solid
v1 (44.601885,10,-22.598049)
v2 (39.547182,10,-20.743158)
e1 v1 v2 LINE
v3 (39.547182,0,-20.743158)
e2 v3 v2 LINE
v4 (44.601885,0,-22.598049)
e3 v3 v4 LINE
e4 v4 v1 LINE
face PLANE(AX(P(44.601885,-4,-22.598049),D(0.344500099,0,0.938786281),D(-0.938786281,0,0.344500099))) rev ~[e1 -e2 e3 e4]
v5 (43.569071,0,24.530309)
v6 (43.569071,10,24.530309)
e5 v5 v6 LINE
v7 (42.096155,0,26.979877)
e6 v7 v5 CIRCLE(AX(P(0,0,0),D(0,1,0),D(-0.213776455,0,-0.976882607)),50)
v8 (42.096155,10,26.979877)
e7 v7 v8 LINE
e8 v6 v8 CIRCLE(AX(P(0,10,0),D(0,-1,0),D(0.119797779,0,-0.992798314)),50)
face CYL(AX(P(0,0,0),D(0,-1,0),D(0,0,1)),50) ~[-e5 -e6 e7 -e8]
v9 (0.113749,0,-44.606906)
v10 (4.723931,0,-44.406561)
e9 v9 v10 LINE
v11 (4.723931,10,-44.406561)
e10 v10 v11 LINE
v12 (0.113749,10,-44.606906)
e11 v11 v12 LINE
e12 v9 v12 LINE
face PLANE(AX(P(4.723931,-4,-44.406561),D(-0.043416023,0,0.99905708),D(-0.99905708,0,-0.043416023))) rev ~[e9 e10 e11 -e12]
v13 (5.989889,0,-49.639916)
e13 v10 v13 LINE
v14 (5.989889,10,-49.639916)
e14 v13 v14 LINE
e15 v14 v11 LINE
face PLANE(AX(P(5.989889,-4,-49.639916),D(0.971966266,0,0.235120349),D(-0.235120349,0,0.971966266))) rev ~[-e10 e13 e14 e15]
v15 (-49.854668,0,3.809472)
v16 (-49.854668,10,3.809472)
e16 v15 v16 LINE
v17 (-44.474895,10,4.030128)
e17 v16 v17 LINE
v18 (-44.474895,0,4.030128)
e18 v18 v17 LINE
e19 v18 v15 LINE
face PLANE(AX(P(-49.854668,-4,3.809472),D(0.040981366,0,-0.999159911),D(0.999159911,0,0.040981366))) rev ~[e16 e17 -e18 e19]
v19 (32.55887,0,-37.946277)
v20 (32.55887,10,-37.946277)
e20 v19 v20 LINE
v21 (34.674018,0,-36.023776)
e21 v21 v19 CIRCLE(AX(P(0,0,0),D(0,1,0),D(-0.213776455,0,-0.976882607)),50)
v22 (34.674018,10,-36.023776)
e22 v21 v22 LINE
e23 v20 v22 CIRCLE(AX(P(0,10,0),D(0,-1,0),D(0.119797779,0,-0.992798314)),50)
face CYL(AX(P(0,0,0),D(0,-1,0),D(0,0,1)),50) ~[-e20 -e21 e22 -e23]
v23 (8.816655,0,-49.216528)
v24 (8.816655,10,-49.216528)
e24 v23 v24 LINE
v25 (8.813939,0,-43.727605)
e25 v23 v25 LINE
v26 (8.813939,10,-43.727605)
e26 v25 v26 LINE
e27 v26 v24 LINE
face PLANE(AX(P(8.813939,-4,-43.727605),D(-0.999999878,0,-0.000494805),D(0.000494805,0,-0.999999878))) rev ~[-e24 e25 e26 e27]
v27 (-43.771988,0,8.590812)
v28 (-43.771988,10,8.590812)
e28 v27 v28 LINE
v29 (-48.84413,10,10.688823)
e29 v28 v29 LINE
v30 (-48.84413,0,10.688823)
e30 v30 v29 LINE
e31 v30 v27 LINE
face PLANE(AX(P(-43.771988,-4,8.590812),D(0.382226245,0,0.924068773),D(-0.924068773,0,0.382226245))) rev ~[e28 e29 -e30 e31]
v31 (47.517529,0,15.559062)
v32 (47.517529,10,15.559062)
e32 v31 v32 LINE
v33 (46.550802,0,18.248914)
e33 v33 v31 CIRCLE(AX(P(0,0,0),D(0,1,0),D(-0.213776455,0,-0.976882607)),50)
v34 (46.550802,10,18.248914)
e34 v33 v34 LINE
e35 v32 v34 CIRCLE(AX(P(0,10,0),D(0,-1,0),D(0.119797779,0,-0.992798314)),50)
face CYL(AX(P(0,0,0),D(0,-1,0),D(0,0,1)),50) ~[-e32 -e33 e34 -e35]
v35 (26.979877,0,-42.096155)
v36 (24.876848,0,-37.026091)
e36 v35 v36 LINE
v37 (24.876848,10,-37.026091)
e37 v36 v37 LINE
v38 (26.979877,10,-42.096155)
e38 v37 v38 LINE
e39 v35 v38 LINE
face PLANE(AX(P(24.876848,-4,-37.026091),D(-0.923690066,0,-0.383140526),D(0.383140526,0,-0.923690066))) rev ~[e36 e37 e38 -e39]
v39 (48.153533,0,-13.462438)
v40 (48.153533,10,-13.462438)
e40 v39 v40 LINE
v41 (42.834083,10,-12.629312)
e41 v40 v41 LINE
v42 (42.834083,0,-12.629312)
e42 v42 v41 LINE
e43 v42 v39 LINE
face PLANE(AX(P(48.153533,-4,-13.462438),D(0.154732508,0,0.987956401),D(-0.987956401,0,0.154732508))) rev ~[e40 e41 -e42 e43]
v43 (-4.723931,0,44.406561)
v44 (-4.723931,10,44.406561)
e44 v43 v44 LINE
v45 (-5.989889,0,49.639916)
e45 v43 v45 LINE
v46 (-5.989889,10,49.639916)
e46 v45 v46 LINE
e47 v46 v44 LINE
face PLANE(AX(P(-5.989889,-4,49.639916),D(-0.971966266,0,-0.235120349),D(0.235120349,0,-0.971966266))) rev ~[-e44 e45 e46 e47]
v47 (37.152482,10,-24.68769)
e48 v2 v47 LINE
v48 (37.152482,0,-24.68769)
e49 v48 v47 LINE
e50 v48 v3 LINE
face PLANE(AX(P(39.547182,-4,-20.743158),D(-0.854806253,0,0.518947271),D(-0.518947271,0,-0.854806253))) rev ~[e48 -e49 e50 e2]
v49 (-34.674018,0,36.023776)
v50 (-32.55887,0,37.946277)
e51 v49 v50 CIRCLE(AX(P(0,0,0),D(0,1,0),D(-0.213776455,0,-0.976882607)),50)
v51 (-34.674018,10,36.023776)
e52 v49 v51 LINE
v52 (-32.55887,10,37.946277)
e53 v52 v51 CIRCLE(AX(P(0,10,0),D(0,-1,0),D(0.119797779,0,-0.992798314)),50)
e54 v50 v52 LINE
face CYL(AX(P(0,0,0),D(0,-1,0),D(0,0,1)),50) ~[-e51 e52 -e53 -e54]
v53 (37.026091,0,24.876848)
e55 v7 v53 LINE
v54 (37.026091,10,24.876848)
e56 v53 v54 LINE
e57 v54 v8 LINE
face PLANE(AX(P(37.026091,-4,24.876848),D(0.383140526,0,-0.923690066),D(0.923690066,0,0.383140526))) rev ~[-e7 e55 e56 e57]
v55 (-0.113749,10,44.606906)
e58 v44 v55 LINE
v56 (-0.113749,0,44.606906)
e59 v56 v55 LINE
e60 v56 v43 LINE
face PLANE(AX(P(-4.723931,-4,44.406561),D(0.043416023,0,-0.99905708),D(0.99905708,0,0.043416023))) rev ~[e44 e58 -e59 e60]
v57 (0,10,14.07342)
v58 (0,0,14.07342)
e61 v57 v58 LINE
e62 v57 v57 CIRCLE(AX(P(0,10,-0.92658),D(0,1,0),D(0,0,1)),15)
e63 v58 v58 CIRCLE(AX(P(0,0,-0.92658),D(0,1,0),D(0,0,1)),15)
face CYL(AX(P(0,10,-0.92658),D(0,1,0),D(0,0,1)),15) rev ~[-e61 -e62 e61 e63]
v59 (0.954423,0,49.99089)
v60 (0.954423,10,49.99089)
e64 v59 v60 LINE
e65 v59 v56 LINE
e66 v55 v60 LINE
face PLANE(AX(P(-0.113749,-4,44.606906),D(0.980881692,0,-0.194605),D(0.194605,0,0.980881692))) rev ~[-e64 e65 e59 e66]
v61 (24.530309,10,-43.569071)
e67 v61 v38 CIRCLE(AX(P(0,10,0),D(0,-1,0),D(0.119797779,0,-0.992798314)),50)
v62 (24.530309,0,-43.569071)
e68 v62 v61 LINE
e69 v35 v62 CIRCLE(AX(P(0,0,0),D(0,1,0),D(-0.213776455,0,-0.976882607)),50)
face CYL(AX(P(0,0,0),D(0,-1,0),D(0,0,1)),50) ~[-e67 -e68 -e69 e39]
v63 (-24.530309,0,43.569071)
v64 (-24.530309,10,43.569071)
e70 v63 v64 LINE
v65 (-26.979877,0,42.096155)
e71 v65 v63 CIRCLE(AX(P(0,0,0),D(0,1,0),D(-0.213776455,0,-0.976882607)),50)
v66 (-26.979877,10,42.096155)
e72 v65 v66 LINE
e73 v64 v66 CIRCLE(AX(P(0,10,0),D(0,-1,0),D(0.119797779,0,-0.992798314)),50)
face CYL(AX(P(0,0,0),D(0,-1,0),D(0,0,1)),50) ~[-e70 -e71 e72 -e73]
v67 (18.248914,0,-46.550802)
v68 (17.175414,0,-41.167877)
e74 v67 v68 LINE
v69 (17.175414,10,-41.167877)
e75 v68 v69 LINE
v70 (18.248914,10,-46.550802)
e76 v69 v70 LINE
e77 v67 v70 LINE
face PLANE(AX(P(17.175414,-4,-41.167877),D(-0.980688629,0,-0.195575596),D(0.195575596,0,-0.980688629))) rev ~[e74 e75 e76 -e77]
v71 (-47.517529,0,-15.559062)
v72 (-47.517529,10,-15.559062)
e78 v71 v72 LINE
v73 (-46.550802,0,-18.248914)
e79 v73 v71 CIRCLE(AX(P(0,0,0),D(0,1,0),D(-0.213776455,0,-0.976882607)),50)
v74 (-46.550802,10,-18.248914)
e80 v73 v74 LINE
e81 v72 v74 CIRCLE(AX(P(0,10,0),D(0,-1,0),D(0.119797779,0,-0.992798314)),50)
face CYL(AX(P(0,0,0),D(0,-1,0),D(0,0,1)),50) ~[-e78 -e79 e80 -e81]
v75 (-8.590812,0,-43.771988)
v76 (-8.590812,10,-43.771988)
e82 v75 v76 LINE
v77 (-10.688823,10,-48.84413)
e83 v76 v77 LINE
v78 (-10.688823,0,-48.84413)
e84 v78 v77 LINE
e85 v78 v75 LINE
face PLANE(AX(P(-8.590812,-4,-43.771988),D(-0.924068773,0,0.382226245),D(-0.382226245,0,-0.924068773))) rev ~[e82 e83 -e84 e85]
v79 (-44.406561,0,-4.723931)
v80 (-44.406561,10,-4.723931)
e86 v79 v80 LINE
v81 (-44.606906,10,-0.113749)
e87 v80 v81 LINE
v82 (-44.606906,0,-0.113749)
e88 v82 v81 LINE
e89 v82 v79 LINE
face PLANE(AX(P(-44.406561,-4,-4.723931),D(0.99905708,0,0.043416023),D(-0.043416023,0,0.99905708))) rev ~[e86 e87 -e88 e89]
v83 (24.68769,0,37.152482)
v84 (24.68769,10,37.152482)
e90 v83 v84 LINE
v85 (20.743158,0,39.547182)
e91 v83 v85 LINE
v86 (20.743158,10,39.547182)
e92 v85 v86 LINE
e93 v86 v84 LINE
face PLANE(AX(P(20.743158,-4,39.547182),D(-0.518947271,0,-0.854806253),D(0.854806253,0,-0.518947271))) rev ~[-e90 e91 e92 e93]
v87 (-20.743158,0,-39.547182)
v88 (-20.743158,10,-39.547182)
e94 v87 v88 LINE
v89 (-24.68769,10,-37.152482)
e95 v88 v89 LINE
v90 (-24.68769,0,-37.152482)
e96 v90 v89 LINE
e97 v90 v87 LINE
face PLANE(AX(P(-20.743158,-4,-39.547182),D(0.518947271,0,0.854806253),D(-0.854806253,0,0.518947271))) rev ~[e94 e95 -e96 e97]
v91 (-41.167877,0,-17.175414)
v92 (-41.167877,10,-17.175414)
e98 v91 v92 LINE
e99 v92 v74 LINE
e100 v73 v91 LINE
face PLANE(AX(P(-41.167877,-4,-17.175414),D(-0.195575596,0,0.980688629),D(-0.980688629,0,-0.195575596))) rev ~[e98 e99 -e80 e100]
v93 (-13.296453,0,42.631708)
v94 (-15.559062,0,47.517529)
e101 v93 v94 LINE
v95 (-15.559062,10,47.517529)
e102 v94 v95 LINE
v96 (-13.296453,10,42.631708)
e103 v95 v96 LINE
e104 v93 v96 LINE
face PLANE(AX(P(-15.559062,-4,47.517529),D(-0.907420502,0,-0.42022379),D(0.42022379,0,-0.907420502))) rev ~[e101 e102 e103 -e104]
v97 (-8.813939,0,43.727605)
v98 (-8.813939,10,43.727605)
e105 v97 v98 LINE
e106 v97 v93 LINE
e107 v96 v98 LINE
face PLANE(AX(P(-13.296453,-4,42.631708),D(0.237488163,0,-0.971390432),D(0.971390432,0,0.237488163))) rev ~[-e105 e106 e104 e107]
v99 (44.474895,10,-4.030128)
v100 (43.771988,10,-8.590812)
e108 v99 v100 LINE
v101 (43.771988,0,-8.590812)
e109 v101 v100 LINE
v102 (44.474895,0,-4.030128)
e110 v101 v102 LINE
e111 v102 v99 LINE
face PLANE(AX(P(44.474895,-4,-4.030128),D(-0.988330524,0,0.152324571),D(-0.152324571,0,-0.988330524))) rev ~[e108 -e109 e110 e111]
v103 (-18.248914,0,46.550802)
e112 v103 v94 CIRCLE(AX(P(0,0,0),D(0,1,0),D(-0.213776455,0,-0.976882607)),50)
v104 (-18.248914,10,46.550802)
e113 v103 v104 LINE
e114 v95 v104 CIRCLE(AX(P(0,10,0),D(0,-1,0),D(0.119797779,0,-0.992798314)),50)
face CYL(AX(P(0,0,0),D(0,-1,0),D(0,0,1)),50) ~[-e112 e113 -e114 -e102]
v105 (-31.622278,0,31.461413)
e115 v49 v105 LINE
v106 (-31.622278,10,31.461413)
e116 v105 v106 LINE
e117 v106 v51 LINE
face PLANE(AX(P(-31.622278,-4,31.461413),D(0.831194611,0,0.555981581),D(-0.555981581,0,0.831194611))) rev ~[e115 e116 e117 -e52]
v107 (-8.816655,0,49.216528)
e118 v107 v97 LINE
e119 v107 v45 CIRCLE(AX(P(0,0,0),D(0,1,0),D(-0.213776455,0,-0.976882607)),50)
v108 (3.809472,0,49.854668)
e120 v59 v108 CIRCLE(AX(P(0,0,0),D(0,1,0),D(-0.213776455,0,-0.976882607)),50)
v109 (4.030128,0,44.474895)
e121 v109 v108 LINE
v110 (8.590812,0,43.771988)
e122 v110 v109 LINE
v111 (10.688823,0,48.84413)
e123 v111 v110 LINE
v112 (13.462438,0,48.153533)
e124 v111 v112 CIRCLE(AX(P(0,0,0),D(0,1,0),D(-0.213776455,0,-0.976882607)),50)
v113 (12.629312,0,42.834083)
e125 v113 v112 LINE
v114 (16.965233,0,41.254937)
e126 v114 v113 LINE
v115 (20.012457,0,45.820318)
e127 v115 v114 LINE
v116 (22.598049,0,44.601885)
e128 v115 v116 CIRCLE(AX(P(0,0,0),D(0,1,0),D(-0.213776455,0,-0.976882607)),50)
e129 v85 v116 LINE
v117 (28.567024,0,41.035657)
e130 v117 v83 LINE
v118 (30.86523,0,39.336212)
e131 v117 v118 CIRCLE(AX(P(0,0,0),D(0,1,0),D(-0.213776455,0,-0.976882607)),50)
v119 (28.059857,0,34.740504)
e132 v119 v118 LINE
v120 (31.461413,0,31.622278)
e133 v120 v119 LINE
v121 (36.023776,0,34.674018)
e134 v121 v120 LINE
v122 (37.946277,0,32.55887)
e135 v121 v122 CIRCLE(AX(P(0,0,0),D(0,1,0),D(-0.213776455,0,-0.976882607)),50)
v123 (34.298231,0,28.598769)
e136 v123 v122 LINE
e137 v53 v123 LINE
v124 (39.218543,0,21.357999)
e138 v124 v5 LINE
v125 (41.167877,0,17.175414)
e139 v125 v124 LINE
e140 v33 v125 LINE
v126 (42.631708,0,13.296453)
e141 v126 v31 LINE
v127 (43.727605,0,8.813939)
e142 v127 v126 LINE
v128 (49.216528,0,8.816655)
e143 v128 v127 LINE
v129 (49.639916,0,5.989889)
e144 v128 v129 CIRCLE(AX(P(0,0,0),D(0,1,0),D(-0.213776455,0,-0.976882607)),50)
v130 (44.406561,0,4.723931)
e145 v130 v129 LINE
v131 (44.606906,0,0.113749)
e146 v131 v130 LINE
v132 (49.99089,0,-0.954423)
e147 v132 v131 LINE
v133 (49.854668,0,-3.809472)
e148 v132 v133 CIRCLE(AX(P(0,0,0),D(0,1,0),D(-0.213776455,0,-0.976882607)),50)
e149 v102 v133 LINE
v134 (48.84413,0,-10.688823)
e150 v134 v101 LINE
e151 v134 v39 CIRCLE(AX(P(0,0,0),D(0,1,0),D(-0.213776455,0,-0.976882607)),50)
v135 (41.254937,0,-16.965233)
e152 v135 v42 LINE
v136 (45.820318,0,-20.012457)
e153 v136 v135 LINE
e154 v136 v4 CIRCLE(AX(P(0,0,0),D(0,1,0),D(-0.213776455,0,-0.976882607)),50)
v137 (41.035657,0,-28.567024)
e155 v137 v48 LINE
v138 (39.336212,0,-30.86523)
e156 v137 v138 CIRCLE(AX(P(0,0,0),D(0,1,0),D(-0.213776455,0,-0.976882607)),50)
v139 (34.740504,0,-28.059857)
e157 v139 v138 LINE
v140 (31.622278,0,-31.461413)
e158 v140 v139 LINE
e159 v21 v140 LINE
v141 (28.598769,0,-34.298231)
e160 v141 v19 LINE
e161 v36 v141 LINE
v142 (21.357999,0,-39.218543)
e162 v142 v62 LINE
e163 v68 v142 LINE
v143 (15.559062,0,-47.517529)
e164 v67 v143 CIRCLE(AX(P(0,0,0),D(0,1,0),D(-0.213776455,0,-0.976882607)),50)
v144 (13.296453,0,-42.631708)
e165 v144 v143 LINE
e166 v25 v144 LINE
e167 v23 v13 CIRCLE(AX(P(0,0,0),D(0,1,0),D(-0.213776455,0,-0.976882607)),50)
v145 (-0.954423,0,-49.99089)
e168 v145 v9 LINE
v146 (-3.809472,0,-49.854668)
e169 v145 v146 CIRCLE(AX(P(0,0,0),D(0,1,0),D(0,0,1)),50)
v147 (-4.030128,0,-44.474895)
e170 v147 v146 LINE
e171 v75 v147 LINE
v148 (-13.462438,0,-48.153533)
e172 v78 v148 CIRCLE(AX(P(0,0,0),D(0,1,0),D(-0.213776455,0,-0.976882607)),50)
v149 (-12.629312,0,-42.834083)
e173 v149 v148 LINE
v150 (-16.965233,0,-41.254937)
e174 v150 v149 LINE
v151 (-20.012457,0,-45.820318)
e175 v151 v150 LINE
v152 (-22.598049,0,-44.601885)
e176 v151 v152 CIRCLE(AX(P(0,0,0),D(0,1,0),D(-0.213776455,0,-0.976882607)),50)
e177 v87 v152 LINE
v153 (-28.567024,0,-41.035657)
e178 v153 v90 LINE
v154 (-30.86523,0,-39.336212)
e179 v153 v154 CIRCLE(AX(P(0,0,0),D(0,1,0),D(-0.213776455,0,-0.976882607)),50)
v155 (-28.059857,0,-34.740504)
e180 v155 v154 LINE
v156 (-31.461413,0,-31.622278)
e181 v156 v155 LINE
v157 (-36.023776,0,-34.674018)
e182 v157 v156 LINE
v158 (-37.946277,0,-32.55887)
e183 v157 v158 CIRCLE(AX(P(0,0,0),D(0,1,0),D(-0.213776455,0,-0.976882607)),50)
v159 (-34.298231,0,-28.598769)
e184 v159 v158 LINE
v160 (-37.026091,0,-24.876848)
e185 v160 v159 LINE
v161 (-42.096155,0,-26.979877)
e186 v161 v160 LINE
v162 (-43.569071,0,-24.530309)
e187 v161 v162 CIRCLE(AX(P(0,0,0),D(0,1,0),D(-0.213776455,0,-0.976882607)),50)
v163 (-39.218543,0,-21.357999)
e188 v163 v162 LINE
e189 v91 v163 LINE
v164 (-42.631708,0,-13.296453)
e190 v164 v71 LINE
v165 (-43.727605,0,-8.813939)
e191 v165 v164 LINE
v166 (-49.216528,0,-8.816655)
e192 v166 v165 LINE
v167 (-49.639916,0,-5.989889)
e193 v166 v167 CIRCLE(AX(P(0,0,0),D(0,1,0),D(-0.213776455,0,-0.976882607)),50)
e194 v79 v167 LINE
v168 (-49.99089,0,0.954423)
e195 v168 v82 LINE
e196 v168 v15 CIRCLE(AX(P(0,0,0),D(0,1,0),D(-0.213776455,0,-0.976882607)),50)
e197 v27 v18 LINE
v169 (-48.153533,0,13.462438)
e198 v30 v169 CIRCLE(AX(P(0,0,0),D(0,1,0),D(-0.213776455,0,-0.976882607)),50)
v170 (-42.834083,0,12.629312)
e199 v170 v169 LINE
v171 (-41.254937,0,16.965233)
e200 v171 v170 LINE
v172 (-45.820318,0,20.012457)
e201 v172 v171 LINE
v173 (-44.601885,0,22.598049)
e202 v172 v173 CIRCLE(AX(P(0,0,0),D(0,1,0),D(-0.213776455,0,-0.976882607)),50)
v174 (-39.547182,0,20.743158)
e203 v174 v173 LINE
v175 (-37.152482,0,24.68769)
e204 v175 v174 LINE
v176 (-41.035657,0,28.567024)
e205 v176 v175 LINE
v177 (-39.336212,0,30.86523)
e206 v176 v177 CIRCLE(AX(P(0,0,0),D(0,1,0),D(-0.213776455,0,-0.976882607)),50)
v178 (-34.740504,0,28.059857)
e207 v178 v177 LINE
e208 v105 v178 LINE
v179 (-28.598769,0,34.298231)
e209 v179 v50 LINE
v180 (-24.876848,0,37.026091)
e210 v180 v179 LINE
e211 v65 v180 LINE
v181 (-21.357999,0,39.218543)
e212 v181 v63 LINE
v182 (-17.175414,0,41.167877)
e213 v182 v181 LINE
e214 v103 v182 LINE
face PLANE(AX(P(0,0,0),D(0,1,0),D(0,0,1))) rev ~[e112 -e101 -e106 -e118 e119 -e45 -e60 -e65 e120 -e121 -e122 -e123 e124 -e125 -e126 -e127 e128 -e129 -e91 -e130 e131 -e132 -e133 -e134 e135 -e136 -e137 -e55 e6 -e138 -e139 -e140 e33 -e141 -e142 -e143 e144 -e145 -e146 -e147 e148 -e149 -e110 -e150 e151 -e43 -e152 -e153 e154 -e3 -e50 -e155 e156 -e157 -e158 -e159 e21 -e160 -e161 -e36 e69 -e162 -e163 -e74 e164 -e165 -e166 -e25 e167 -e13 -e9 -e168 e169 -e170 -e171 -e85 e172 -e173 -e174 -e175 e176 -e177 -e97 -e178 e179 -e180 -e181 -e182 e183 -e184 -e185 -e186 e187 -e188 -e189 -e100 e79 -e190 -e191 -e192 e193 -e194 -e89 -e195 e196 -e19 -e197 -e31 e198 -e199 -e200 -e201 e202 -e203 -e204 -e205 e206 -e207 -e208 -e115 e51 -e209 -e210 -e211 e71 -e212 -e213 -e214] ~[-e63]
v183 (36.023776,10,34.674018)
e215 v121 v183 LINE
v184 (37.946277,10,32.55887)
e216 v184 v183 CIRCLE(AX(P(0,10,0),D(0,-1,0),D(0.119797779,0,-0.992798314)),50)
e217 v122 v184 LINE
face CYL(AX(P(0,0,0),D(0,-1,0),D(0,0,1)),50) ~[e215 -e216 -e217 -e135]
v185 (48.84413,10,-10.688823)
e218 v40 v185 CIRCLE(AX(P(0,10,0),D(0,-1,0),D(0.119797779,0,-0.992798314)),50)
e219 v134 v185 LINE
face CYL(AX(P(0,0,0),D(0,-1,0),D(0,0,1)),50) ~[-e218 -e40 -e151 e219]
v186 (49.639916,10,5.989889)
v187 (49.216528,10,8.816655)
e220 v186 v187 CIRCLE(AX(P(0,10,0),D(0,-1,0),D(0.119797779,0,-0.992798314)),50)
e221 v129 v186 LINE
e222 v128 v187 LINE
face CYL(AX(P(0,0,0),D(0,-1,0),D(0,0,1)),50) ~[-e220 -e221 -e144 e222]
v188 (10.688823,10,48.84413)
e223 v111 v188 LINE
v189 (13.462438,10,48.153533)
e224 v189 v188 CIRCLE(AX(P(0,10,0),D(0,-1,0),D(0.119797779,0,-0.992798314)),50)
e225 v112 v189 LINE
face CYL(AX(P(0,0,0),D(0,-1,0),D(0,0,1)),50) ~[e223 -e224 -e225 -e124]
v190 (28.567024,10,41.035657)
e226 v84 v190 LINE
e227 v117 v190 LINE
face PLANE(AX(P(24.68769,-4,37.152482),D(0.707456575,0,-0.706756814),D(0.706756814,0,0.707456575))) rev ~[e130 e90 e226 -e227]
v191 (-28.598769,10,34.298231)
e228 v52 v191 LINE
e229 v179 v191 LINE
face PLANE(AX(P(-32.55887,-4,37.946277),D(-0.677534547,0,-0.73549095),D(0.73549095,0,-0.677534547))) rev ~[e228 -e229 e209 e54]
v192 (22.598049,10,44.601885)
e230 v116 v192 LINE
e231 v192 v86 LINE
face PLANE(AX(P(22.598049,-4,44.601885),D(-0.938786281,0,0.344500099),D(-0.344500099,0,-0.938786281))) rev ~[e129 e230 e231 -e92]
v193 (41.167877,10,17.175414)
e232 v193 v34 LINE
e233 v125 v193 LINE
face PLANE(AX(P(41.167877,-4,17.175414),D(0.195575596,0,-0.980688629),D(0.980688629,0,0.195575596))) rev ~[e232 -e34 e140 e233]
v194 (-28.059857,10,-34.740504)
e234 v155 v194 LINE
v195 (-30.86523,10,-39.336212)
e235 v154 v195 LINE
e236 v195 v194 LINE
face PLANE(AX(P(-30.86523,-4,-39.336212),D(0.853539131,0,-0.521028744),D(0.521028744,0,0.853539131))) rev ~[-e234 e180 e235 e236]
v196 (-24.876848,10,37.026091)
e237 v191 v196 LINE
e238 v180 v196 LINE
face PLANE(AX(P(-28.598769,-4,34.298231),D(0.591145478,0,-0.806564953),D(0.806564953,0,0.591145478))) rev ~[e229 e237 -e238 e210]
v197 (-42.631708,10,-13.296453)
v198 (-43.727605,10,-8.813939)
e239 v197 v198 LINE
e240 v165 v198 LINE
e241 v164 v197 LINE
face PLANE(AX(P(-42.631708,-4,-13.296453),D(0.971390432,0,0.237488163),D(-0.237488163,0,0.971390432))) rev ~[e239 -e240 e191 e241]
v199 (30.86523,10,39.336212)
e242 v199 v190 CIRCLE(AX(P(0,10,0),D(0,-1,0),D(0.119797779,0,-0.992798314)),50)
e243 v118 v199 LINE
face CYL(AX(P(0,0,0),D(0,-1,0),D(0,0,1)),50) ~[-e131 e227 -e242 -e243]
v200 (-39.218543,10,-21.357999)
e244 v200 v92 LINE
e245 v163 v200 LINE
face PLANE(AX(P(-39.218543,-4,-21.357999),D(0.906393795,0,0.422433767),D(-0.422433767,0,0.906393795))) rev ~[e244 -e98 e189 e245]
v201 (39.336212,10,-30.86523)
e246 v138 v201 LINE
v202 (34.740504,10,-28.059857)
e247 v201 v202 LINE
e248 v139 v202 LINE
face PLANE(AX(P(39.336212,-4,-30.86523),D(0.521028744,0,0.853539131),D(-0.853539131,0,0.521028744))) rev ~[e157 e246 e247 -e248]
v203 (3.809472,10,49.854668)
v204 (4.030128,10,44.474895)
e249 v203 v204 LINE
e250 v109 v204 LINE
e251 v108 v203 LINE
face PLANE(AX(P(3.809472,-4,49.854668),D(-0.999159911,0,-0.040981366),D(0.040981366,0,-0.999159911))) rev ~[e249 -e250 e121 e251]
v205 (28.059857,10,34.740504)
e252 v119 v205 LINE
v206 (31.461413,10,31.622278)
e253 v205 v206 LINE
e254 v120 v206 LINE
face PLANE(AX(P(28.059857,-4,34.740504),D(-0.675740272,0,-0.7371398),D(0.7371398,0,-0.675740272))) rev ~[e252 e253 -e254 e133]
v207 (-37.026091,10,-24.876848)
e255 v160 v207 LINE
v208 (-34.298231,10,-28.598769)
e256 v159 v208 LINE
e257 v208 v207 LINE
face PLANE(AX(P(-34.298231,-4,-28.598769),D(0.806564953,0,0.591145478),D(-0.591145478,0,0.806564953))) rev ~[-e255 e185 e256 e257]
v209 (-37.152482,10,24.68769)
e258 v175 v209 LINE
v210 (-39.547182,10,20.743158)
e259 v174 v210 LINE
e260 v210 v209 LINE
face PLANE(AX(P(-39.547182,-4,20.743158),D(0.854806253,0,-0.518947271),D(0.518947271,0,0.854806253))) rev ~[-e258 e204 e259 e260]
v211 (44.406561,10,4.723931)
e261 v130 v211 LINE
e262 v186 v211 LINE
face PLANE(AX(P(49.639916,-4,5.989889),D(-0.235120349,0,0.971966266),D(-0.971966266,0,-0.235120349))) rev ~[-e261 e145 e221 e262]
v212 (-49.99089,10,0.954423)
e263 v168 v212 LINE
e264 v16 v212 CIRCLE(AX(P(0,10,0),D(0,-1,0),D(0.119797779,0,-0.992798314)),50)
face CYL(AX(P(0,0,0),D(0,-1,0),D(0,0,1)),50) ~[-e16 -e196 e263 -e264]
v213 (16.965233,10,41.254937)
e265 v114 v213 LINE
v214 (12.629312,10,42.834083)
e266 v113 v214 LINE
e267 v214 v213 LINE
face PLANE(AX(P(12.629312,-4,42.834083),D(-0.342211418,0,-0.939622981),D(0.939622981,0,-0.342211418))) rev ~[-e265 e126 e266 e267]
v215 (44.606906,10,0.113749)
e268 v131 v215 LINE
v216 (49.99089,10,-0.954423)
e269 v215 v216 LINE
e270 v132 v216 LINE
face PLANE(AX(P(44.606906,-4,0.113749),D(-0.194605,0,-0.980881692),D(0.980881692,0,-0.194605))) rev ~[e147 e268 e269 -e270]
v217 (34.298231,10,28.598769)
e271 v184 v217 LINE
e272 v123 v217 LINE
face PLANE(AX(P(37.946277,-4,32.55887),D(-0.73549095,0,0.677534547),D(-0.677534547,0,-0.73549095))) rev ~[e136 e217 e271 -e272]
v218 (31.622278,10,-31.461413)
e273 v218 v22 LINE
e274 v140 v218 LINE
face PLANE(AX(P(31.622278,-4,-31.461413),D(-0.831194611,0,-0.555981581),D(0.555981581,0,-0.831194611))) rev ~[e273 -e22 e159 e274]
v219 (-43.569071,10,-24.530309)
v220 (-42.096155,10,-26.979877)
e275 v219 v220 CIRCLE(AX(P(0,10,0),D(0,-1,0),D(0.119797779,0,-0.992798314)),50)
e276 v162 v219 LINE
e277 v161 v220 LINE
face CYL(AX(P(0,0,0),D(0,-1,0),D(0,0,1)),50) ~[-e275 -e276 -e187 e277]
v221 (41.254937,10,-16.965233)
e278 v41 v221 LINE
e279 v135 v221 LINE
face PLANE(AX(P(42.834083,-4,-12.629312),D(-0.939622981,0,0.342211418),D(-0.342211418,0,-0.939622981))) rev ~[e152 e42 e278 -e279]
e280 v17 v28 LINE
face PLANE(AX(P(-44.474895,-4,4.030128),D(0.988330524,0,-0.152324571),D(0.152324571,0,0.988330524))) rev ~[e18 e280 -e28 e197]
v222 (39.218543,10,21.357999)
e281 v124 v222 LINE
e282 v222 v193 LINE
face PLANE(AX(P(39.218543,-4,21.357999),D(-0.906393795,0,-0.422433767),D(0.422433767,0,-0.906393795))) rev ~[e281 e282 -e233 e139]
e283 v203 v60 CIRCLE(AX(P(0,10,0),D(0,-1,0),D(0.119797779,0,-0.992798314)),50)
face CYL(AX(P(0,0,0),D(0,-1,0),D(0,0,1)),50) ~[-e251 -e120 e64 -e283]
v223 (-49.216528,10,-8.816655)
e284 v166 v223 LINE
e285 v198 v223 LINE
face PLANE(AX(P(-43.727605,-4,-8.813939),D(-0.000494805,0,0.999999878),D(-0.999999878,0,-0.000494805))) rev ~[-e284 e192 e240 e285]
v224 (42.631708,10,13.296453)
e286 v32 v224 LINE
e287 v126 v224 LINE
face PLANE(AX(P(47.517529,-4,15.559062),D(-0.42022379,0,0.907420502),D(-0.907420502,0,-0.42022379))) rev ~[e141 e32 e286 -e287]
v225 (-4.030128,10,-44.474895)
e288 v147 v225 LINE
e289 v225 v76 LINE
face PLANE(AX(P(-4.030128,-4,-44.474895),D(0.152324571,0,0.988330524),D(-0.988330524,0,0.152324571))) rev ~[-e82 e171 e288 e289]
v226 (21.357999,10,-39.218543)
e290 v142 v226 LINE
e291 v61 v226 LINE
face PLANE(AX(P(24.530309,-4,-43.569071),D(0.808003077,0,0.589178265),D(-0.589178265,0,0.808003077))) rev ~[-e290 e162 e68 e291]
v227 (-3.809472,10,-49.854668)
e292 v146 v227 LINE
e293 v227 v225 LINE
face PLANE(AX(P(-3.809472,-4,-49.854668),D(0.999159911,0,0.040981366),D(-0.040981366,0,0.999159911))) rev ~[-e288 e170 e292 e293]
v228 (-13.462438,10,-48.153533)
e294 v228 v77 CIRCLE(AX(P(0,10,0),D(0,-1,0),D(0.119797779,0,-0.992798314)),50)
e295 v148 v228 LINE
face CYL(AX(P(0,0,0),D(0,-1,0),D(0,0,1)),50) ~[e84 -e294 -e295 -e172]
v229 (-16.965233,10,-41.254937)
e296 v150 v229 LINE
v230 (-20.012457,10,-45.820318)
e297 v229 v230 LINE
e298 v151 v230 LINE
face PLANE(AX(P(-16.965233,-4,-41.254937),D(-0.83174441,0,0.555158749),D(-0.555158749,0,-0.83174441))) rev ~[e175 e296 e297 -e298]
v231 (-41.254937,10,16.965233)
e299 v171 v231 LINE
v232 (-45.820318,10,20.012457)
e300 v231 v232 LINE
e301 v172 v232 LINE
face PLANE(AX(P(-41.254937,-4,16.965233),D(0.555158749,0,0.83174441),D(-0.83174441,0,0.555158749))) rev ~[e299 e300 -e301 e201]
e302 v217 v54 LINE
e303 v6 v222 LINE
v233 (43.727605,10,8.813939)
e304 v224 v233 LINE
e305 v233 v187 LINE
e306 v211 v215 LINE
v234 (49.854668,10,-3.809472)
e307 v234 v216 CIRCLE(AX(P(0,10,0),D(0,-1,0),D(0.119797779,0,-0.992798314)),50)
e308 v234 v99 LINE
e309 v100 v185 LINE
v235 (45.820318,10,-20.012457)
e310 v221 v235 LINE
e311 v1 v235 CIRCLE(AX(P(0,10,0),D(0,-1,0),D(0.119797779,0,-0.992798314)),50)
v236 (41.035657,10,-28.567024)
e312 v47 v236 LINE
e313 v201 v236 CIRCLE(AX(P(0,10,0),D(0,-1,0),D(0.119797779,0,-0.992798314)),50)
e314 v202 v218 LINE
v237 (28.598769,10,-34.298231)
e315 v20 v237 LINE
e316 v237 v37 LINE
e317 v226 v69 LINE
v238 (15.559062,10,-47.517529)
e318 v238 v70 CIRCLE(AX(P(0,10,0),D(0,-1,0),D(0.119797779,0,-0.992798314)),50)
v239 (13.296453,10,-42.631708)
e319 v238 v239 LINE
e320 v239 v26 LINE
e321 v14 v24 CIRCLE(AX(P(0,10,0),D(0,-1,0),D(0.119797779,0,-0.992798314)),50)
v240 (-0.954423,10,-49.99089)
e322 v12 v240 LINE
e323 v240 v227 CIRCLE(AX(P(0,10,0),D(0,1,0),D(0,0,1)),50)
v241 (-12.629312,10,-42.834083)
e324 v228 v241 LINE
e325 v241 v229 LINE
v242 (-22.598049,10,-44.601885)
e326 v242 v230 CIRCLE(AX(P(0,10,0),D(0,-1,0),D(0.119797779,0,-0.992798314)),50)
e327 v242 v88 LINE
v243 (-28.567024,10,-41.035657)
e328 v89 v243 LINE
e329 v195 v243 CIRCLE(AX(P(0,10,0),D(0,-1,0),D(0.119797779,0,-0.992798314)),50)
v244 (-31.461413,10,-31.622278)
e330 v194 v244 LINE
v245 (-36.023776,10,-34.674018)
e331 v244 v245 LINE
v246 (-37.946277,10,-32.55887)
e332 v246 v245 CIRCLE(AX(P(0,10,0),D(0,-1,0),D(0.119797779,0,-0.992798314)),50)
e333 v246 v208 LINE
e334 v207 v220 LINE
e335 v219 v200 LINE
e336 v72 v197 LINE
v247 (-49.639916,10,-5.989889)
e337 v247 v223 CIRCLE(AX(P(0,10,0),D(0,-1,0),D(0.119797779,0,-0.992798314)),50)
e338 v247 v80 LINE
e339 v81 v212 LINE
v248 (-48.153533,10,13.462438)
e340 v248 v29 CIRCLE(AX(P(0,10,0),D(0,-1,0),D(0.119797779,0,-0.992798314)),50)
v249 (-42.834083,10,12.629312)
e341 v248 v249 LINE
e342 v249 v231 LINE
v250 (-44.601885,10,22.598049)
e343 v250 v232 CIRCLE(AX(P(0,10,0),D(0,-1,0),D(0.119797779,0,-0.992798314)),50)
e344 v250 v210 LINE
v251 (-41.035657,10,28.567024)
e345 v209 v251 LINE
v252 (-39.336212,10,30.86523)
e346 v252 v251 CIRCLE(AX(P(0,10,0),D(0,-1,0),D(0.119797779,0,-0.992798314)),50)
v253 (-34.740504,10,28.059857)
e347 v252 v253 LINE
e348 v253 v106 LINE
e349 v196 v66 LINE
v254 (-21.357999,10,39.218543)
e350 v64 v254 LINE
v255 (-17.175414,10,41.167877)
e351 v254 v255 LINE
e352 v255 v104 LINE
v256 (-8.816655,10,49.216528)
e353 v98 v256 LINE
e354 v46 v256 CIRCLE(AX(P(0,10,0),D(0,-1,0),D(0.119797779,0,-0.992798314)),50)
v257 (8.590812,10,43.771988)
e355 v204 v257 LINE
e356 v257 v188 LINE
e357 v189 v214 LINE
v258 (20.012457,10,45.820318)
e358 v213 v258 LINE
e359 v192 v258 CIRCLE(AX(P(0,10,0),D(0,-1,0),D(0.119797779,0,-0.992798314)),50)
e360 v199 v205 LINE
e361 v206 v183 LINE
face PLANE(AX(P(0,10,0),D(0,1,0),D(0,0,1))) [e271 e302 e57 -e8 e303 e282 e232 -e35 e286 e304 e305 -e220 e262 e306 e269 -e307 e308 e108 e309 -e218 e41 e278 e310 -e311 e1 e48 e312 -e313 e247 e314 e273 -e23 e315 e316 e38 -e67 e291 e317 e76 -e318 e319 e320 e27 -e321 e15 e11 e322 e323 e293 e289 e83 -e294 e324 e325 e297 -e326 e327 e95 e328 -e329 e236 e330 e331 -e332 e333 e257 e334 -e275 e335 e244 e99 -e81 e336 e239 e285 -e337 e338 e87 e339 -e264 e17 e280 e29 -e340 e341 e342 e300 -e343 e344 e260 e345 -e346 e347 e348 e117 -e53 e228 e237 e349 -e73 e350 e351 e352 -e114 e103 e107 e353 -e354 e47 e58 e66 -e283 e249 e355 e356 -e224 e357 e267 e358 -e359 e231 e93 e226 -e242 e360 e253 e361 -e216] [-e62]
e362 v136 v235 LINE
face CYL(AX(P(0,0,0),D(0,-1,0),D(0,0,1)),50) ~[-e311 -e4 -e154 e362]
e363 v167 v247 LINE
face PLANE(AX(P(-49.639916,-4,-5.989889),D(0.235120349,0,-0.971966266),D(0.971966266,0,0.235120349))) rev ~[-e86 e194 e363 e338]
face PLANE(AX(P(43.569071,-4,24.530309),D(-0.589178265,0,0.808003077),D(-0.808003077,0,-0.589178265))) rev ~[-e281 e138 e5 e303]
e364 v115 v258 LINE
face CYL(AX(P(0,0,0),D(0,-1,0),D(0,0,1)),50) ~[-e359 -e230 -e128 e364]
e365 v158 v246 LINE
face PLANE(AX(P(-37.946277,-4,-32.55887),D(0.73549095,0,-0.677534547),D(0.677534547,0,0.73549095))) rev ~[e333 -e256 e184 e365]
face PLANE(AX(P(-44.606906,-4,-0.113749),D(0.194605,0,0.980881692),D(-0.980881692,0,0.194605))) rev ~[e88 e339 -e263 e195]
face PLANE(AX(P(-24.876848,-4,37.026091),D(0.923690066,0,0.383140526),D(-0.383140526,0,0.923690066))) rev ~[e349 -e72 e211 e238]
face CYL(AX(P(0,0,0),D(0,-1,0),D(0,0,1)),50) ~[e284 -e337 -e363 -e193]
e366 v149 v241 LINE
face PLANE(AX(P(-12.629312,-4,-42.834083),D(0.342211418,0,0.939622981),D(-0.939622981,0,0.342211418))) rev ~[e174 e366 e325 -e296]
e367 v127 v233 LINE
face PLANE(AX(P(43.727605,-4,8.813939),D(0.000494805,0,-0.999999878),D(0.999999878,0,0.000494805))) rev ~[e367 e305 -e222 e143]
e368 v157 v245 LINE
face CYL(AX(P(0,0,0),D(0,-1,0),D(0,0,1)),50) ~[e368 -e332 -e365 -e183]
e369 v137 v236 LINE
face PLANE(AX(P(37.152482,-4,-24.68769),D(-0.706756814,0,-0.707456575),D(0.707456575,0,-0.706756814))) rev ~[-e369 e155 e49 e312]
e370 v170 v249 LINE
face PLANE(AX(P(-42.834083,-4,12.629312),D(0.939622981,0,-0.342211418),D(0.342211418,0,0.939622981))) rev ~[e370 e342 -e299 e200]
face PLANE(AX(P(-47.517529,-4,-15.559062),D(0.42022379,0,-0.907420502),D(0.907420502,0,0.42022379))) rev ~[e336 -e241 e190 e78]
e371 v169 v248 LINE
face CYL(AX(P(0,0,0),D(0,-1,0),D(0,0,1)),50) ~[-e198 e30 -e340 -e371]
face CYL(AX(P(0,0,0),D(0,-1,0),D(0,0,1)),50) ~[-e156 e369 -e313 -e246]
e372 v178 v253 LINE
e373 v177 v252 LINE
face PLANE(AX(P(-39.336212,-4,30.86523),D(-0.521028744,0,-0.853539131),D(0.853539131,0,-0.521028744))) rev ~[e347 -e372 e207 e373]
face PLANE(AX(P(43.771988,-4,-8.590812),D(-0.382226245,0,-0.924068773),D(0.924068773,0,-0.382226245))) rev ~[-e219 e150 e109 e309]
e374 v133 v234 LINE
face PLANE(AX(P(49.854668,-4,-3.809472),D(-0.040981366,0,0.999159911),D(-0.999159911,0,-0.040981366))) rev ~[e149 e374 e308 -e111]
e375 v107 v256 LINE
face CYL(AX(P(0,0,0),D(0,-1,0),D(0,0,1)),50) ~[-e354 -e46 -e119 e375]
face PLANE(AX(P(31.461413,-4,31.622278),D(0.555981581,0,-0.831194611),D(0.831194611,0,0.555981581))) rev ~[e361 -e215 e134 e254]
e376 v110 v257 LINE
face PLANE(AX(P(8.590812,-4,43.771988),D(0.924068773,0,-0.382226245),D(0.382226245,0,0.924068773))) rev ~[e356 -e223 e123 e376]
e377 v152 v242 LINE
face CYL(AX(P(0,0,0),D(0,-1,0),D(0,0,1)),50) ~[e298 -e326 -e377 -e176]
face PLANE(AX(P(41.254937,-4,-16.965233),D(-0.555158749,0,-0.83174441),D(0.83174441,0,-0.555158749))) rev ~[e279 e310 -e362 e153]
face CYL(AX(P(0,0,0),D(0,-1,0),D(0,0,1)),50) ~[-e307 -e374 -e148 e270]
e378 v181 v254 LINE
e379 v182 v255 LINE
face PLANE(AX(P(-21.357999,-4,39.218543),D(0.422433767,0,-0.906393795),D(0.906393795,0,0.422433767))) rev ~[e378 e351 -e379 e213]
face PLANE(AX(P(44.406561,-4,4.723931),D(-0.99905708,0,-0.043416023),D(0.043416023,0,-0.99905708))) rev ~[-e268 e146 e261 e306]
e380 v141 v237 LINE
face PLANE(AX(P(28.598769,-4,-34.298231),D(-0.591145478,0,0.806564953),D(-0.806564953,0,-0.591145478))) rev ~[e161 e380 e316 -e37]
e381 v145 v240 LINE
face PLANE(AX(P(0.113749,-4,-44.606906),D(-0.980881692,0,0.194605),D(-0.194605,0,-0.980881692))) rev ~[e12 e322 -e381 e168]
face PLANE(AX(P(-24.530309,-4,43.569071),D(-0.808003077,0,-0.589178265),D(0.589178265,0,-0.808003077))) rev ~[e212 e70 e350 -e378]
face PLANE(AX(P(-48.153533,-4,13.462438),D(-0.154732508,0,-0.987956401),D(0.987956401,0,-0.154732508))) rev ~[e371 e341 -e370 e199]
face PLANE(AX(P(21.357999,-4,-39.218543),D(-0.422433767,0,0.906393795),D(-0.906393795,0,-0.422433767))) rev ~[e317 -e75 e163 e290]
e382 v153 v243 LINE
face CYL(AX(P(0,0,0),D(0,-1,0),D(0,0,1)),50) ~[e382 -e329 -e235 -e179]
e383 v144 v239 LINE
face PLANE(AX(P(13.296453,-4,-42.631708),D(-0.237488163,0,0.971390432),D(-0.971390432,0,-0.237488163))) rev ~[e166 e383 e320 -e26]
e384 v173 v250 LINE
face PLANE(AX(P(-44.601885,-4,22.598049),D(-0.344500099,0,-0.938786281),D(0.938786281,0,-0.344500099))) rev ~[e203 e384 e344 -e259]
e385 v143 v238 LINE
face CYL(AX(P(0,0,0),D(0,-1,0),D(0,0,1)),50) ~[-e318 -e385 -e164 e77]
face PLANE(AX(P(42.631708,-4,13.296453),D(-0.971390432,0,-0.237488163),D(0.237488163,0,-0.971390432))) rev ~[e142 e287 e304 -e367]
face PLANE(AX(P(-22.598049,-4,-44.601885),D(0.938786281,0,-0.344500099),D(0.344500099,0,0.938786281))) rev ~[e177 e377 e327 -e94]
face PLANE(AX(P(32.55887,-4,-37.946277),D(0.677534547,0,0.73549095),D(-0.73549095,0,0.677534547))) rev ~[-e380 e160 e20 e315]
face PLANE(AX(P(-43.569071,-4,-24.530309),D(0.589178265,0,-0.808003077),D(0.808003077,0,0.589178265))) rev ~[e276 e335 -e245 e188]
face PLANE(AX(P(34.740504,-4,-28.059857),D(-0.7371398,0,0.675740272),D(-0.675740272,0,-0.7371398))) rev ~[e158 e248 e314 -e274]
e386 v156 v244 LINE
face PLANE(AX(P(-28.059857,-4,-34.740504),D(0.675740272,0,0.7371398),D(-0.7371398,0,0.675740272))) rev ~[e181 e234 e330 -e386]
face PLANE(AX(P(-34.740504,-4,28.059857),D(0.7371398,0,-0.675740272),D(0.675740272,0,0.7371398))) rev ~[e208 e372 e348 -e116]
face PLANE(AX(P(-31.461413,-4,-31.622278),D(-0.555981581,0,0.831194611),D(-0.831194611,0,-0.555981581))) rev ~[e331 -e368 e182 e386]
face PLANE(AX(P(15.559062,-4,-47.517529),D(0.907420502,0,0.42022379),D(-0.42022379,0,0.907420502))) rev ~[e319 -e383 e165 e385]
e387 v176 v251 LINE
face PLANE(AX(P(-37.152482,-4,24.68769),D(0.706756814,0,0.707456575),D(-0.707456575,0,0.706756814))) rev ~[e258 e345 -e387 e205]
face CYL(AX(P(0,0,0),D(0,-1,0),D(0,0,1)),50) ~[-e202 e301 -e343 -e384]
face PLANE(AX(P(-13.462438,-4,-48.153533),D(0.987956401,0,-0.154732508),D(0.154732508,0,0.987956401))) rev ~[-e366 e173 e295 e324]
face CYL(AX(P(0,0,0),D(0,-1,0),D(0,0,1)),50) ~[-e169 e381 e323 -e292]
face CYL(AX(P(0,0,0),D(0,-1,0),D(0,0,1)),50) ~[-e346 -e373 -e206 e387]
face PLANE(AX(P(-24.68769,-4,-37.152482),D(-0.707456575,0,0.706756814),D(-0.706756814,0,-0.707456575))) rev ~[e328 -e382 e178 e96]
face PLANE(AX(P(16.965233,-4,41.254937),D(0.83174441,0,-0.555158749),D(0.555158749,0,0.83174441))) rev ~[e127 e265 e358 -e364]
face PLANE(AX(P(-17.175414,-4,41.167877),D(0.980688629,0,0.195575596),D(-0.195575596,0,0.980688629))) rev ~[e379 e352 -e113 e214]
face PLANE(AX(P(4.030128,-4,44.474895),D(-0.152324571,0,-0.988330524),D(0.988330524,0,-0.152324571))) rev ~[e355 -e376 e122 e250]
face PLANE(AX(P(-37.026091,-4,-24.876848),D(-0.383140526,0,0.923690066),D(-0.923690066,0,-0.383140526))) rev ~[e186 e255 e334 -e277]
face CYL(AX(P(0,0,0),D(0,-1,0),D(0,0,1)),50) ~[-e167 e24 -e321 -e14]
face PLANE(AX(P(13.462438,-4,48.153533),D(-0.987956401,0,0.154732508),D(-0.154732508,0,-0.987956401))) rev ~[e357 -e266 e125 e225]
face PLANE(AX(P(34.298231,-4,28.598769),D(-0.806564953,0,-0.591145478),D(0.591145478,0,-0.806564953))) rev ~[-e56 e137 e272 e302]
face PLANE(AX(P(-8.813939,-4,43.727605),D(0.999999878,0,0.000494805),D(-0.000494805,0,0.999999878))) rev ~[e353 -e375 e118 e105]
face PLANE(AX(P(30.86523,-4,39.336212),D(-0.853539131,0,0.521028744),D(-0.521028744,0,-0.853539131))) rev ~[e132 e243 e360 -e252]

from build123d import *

# Parameters (mm, degrees)
CROQUIS1_R              = 50
SALIENTE_EXTRUIR1_DEPTH = 10
CROQUIS2_R              = 15
CORTAR_EXTRUIR1_DEPTH   = 10
CORTAR_EXTRUIR14_START  = -14
CORTAR_EXTRUIR14_DEPTH  = 14
MATRIZC1_COUNT          = 32


with BuildPart() as part:
    # Croquis1 → Saliente-Extruir1 (new body)
    with BuildSketch(Plane(origin=(0, 0, 0), x_dir=(1, 0, 0), z_dir=(0, 1, 0))):
        with Locations(Location((0, 0, 0), (0, 0, 270))):
            Circle(CROQUIS1_R)
    extrude(amount=SALIENTE_EXTRUIR1_DEPTH)

    # Croquis2 → Cortar-Extruir1 (cut)
    with BuildSketch(Plane(origin=(0, 10, 0), x_dir=(1, 0, 0), z_dir=(0, 1, 0))):
        with Locations(Location((0, 0.926579846, 0), (0, 0, 270))):
            Circle(CROQUIS2_R)
    extrude(amount=-CORTAR_EXTRUIR1_DEPTH, mode=Mode.SUBTRACT)

    # Croquis3 → Cortar-Extruir14 (cut)
    with BuildSketch(Plane(origin=(0, 10, 0), x_dir=(1, 0, 0), z_dir=(0, 1, 0)).offset(CORTAR_EXTRUIR14_START)):
        with BuildLine():
            Line((4.72393128, 44.406561165), (0.113748969, 44.606905854))
            Line((0.113748969, 44.606905854), (-0.954422894, 49.990889939))
            ThreePointArc((-0.954422894, 49.990889939), (2.523841382, 49.936261621), (5.989888947, 49.639915697))
            Line((5.989888947, 49.639915697), (4.72393128, 44.406561165))
        make_face()
    cortar_extruir14 = extrude(amount=CORTAR_EXTRUIR14_DEPTH, mode=Mode.SUBTRACT)

    # MatrizC1: Cortar-Extruir14 ×32 about axis
    matrizc1_axis = Axis((0, 0, 0), (0, 1, 0))
    for i in range(1, MATRIZC1_COUNT):
        add(cortar_extruir14.rotate(matrizc1_axis, i * 360 / MATRIZC1_COUNT), mode=Mode.SUBTRACT)


solid = part.part
